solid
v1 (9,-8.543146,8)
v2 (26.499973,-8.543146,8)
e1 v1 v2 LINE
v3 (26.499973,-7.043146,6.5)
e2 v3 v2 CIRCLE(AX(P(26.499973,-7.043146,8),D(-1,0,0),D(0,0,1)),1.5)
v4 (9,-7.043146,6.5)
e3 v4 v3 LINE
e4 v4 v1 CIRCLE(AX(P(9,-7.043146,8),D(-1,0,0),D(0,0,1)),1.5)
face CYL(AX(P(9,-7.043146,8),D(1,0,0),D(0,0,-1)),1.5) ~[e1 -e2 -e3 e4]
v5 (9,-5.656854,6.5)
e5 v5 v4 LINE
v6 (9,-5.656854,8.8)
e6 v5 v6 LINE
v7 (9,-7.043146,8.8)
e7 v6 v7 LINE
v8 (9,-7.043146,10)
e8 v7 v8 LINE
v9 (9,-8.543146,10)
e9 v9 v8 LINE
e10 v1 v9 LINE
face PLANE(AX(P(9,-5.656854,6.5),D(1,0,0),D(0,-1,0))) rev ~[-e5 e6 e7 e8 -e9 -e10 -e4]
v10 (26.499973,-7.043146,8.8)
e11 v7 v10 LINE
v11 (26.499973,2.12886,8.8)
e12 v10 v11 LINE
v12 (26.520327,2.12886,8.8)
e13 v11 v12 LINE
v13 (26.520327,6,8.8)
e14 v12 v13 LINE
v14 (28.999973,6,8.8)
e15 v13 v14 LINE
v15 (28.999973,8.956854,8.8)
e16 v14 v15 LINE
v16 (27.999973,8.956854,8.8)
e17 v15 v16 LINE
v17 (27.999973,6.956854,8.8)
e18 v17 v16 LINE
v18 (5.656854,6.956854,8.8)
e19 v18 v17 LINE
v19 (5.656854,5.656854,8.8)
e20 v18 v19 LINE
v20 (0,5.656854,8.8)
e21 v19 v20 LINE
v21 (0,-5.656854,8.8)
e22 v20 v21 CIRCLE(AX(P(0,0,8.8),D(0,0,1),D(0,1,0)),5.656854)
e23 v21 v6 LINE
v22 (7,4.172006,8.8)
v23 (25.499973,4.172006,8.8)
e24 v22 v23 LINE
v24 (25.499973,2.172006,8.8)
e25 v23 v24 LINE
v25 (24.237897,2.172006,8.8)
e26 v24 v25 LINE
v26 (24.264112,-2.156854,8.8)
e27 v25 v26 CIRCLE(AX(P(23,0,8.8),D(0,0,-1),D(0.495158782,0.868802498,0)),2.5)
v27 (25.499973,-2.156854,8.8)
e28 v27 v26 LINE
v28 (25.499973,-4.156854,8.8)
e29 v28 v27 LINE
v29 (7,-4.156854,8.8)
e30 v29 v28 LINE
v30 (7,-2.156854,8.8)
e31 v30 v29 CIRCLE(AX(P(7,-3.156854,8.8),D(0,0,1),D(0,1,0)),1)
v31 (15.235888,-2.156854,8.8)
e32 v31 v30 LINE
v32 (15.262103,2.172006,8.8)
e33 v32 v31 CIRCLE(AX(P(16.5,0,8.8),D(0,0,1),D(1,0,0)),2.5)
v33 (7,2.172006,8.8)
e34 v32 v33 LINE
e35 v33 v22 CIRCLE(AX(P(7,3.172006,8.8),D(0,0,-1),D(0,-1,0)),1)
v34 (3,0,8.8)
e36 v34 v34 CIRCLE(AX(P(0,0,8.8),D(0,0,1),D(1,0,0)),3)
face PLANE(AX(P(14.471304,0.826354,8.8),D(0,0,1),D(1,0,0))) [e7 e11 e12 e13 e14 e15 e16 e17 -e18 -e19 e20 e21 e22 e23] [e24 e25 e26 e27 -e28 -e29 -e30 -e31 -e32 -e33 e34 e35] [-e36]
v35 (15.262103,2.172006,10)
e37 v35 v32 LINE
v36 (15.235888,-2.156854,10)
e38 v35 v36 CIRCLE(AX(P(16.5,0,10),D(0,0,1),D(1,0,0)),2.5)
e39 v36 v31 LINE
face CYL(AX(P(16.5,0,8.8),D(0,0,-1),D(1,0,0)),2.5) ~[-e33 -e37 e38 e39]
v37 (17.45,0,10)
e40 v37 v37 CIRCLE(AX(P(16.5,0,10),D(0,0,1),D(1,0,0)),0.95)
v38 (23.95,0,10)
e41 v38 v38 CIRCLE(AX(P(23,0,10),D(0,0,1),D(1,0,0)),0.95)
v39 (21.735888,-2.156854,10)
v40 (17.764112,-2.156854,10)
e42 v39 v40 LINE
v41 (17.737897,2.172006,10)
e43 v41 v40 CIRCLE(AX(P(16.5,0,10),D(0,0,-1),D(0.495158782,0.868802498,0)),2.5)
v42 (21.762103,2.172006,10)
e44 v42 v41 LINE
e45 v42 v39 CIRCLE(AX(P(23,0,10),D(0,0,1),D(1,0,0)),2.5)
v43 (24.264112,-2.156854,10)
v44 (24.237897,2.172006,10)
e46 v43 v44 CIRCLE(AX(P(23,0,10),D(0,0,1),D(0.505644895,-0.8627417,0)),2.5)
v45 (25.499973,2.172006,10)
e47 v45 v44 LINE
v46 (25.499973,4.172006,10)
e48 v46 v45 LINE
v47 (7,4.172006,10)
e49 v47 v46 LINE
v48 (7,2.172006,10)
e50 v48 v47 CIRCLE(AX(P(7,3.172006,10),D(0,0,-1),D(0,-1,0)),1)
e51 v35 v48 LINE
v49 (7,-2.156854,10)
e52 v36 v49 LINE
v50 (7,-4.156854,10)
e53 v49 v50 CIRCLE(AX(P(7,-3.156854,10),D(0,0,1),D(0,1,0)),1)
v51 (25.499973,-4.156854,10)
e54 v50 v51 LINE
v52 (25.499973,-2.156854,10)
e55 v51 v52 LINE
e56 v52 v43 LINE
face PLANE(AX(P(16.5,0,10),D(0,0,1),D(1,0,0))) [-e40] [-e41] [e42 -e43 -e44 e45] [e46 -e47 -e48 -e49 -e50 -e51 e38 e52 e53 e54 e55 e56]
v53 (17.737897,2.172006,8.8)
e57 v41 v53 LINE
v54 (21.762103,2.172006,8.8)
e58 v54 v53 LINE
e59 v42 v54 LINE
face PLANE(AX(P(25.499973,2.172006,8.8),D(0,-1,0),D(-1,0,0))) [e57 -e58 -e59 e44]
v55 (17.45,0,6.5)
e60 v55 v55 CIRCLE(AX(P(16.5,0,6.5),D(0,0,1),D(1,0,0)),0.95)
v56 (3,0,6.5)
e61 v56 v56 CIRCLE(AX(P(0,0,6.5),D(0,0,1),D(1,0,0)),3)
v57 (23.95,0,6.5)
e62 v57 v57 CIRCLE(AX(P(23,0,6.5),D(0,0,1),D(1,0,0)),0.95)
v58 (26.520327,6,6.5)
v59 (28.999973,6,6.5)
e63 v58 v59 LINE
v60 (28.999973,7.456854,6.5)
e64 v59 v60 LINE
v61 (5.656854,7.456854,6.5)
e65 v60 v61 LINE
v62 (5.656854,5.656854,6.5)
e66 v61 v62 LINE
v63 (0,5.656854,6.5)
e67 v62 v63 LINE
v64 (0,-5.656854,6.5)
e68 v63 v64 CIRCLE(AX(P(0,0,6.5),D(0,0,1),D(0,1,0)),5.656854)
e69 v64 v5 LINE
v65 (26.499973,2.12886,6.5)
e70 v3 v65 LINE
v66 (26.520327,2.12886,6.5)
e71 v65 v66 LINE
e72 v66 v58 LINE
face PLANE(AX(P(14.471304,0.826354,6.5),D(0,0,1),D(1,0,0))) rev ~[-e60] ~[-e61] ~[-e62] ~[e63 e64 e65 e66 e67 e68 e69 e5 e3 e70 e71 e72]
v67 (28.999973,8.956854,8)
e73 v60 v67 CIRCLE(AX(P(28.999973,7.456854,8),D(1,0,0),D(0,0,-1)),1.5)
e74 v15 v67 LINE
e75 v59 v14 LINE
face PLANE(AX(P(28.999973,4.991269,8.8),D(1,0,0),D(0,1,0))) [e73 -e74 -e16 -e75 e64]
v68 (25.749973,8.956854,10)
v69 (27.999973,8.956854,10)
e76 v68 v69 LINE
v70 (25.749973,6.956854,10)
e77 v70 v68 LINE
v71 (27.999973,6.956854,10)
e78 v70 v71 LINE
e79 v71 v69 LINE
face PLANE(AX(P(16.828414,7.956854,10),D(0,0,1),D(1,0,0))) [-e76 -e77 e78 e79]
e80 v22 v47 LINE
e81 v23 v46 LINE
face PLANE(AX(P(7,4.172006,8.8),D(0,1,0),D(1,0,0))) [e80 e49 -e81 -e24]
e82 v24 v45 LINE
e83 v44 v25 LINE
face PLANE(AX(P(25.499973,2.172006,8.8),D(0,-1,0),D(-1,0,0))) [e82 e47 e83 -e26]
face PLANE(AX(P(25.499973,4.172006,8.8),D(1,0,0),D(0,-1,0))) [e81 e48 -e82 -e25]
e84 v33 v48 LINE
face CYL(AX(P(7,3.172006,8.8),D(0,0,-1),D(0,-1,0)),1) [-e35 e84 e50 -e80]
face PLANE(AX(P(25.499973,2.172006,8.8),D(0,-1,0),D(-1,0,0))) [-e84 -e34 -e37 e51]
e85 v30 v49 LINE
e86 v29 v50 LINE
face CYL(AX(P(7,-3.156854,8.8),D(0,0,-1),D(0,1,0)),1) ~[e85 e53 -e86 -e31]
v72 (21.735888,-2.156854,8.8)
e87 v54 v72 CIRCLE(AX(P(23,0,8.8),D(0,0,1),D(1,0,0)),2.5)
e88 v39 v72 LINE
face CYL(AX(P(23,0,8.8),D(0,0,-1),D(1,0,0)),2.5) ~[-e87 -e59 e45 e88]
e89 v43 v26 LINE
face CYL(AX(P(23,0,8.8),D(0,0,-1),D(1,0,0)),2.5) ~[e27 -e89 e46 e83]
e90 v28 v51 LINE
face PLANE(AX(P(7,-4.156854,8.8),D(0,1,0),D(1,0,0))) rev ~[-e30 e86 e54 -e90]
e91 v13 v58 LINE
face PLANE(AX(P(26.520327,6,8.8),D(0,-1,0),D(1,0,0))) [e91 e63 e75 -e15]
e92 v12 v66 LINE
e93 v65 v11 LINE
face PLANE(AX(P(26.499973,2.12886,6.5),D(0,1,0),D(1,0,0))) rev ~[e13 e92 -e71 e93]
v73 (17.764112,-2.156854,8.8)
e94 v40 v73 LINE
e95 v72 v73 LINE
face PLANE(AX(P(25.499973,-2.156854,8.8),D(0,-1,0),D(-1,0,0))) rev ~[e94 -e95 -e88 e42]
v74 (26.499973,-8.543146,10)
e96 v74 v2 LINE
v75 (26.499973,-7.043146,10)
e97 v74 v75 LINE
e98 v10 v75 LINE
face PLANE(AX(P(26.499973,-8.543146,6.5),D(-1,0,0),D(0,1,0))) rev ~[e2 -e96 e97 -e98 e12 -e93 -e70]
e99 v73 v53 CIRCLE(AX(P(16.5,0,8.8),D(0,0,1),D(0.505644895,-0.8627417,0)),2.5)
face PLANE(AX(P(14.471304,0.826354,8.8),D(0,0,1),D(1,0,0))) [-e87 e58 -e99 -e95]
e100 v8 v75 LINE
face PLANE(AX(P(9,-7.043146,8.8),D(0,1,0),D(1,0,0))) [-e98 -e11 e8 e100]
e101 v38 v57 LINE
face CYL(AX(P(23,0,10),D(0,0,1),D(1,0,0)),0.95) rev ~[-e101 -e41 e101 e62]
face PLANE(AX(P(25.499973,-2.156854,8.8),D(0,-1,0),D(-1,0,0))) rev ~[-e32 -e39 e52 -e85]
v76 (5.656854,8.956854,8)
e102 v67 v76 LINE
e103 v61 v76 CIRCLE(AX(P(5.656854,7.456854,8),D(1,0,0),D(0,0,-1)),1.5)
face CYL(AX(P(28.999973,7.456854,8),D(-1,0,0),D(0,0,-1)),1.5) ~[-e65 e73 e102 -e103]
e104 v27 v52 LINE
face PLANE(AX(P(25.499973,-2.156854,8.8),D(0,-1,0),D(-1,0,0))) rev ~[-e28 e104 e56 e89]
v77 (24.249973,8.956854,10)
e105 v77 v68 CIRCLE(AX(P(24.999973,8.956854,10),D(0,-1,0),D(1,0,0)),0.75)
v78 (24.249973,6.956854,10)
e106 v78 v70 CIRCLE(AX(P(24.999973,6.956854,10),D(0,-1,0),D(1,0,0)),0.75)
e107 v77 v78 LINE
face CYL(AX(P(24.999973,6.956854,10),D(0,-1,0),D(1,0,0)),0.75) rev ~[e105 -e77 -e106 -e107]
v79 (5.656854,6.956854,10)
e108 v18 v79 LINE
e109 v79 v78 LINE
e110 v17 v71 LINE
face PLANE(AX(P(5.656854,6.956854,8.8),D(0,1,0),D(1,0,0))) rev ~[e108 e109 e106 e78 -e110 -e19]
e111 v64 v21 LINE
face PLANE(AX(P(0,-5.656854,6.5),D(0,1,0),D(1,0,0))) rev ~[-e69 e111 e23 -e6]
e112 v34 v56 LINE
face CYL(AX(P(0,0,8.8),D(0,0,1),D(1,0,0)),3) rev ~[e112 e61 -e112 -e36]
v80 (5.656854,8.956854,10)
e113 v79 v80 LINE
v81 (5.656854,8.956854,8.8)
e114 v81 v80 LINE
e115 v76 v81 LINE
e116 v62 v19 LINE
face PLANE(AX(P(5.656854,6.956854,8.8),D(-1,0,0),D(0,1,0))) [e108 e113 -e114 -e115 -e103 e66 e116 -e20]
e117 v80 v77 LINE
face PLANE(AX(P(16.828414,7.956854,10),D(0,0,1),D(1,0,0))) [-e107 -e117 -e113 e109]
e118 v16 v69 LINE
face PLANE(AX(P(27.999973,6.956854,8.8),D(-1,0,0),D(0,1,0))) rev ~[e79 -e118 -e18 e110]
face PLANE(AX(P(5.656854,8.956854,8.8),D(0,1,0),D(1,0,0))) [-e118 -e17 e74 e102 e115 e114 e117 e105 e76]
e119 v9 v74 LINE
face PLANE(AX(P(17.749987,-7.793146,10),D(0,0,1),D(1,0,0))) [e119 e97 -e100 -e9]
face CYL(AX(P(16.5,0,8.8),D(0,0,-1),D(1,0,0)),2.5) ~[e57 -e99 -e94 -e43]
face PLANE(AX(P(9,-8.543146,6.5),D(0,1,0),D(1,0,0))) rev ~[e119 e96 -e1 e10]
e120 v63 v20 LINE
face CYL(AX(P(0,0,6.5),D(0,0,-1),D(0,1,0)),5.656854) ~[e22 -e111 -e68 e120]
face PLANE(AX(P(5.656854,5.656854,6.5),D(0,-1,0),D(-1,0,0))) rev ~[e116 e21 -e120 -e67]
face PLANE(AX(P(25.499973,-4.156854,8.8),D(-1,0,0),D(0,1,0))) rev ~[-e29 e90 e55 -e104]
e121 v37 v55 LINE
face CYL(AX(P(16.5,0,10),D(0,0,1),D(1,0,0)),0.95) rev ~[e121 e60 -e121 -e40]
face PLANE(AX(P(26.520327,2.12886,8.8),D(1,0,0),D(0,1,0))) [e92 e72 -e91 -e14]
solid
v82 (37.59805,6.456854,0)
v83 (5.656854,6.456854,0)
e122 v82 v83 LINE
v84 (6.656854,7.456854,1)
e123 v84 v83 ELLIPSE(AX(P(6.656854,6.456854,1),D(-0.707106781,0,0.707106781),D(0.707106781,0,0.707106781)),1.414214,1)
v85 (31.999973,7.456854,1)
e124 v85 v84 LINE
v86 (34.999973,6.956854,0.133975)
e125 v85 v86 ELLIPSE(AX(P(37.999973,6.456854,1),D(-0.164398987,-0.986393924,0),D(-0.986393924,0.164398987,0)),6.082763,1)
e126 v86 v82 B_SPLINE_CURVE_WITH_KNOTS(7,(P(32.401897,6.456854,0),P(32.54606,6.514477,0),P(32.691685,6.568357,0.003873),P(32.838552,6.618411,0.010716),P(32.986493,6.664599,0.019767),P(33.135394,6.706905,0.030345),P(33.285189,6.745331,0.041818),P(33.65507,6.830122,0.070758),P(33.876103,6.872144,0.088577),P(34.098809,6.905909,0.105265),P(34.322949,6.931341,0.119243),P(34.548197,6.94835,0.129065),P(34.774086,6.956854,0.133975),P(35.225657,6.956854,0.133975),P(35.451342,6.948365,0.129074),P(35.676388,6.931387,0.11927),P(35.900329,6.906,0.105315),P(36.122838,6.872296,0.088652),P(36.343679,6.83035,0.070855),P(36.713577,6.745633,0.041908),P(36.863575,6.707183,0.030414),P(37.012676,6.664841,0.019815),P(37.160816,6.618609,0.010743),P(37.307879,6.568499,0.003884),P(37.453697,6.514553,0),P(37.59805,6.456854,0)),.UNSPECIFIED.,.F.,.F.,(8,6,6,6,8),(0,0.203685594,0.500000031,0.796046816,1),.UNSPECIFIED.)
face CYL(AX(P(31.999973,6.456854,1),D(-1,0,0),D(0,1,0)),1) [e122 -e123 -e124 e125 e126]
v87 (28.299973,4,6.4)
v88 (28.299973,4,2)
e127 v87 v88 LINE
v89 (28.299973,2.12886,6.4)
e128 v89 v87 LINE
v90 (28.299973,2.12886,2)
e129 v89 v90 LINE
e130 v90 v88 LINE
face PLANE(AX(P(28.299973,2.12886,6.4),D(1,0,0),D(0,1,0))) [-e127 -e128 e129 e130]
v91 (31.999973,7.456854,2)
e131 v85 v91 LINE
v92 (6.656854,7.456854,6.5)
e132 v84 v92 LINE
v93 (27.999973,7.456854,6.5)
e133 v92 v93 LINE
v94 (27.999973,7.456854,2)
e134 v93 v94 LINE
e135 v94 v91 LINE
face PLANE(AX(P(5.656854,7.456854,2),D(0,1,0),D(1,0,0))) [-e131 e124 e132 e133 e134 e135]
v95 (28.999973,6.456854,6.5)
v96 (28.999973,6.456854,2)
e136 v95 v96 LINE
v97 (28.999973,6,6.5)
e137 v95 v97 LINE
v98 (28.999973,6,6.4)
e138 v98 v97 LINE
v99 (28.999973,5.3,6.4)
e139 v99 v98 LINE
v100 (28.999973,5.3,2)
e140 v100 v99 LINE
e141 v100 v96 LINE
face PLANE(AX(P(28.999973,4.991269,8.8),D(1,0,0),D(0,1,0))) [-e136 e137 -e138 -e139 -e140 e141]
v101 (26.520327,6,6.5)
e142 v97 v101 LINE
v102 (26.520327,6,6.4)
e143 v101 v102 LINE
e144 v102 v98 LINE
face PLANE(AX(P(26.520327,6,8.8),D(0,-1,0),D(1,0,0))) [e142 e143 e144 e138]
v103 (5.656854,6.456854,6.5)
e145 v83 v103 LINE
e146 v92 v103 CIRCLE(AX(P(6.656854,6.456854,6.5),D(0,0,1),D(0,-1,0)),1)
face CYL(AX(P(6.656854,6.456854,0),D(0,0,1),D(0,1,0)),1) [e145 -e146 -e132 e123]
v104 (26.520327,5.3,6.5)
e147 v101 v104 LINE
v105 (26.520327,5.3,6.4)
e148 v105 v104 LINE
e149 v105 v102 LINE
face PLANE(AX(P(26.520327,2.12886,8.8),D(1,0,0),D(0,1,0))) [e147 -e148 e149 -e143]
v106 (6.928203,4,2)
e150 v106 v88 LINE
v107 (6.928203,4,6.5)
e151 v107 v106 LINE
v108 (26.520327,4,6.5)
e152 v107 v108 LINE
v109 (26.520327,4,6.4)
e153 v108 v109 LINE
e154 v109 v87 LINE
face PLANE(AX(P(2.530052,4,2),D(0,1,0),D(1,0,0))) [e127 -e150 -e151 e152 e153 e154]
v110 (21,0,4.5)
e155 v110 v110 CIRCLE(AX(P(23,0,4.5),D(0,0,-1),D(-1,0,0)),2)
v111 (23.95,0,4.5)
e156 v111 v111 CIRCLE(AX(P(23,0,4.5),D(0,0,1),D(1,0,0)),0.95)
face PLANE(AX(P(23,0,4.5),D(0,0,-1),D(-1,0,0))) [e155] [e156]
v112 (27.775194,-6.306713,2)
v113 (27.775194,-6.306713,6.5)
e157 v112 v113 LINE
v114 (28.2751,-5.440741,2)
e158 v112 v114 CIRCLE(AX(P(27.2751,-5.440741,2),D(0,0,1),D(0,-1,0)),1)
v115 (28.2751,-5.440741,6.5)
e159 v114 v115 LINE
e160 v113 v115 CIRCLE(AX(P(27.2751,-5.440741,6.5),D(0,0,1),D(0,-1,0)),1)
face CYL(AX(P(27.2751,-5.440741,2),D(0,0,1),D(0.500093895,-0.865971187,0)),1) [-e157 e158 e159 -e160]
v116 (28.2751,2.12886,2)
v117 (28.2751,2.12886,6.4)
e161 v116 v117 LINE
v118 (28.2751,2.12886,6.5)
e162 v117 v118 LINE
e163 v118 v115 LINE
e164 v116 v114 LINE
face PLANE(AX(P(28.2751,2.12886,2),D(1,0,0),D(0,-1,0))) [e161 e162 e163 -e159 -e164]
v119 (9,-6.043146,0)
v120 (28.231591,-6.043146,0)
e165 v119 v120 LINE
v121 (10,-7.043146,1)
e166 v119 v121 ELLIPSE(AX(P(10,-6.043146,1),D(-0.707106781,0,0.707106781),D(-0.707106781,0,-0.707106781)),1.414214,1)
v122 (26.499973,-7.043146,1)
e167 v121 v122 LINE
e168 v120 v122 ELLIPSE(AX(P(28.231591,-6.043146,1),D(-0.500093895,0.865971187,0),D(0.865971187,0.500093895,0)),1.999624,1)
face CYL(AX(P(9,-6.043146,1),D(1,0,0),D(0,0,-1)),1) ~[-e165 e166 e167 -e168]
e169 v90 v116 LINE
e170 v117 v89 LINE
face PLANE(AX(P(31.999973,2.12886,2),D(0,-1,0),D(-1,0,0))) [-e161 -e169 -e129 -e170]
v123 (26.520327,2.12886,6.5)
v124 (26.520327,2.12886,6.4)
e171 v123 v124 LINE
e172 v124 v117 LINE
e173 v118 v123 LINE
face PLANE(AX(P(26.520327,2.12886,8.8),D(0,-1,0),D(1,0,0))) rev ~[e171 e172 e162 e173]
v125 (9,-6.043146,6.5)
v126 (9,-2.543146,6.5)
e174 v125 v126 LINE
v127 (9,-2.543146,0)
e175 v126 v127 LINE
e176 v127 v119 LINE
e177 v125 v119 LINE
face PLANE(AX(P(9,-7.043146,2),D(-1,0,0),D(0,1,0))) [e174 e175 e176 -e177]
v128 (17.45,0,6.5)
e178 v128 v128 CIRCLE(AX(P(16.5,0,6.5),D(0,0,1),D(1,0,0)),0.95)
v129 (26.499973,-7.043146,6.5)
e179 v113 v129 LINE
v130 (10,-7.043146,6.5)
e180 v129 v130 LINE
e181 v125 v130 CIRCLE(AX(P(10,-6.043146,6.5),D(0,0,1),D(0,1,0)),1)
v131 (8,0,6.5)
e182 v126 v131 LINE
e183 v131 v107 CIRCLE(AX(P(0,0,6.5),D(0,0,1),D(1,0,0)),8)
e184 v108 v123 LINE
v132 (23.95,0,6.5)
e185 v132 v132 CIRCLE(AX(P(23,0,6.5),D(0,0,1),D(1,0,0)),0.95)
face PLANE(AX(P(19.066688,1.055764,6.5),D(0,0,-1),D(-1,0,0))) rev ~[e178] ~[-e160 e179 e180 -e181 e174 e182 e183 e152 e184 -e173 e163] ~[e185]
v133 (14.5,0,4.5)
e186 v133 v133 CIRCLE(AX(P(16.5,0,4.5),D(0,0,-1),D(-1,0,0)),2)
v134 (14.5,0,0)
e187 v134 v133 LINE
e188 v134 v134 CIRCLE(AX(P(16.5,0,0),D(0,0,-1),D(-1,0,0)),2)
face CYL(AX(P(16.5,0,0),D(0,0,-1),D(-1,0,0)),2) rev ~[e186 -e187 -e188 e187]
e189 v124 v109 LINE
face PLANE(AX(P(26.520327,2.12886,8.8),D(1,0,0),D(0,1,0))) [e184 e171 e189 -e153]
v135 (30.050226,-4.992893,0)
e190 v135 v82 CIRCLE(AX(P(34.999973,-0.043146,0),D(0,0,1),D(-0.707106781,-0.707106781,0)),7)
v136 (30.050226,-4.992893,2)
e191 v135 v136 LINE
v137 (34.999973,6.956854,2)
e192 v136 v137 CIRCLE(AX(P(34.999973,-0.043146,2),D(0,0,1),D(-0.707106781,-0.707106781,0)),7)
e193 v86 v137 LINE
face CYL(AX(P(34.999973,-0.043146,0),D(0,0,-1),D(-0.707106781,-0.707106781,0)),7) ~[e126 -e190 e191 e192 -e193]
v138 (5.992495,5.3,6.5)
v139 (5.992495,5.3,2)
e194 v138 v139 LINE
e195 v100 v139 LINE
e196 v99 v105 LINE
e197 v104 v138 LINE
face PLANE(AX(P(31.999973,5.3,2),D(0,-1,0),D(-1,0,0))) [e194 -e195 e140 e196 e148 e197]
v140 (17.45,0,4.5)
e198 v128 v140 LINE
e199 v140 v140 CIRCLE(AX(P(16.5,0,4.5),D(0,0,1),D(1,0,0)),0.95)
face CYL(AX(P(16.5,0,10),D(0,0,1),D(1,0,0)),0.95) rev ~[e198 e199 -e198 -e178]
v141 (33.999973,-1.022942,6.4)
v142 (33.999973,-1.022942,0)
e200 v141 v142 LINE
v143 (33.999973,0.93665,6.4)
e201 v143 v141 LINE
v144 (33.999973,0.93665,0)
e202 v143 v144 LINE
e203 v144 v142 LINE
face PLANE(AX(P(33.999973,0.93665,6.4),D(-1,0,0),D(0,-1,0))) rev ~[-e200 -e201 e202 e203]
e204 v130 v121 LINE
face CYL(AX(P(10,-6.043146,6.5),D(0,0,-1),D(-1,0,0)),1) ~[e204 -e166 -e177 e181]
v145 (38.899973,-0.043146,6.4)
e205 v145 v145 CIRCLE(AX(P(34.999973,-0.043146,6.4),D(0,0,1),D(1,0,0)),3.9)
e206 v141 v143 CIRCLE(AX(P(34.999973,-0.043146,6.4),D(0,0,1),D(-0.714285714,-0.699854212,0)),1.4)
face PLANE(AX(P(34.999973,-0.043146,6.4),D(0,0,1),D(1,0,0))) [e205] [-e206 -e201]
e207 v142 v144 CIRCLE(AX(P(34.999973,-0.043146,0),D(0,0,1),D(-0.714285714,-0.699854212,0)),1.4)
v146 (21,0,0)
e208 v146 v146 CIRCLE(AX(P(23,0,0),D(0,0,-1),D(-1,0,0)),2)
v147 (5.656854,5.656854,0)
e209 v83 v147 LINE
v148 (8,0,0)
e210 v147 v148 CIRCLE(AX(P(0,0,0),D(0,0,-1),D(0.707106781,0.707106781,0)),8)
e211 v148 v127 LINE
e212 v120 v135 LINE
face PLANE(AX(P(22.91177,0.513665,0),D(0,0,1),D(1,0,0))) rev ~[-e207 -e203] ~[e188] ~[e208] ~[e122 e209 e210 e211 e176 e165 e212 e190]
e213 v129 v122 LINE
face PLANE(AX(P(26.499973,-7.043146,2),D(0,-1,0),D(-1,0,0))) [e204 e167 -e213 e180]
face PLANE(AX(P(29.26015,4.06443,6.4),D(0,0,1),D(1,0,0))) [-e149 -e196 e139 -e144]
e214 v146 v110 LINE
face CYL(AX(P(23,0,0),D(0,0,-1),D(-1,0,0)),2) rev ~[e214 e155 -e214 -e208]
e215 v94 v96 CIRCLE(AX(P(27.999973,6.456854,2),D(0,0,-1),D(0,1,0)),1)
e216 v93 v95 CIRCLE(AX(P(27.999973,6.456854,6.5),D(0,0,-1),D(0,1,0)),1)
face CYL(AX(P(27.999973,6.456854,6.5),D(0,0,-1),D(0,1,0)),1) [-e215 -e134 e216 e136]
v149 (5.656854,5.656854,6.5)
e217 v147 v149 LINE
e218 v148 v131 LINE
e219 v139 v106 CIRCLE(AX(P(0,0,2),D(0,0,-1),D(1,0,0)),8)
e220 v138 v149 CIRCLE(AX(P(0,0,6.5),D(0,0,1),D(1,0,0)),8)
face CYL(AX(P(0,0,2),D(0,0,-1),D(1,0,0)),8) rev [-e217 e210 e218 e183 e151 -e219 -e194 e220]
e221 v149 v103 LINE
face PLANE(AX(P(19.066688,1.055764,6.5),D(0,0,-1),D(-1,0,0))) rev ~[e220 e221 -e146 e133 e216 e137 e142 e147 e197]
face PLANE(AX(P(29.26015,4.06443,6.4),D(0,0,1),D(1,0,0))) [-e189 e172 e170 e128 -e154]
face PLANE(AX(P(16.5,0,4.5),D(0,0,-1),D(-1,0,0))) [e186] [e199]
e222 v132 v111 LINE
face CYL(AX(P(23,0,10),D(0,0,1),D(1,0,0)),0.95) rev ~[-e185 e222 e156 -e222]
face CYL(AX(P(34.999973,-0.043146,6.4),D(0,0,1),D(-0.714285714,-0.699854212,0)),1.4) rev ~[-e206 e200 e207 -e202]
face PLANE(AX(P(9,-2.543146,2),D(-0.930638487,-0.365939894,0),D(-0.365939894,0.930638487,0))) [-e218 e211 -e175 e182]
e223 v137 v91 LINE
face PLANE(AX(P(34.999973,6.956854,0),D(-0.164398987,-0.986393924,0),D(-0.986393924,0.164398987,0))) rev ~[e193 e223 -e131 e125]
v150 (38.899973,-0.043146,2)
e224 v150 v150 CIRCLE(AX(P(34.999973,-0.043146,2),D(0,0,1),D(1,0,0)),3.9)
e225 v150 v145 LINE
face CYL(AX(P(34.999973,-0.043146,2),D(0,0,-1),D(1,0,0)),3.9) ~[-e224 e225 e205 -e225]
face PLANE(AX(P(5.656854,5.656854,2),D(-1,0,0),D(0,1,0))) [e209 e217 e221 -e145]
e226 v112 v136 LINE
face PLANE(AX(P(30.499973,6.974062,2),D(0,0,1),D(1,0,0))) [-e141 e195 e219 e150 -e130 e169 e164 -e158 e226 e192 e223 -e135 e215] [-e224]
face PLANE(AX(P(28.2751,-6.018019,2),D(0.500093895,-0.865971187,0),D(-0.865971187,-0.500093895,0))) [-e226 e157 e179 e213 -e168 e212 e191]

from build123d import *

# Parameters (mm, degrees)
BOSS_EXTRUDE1_DEPTH  = 2
BOSS_EXTRUDE6_DEPTH  = 4.5
CUT_EXTRUDE6_DEPTH   = 4.5
BOSS_EXTRUDE14_DEPTH = 2.3
SKETCH32_R           = 3
CUT_EXTRUDE7_DEPTH   = 2.3
SKETCH33_W           = 22.343119157
SKETCH33_H           = 2
SKETCH33_W_2         = 17.499973406
SKETCH33_H_2         = 1.5
BOSS_EXTRUDE15_DEPTH = 1.2
SKETCH35_W           = 5.479645996
SKETCH35_H           = 3.871139505
CUT_EXTRUDE8_DEPTH   = 2.4
SKETCH36_W           = 3.7
SKETCH36_H           = 1.871139505
CUT_EXTRUDE9_DEPTH   = 4.4
SKETCH37_R           = 3.9
BOSS_EXTRUDE16_DEPTH = 4.4
CUT_EXTRUDE10_DEPTH  = 7.4
SKETCH43_R           = 2.5
BOSS_EXTRUDE17_DEPTH = 1.2
SKETCH44_R           = 0.95
CUT_EXTRUDE11_DEPTH  = 11
SKETCH45_R           = 2
CUT_EXTRUDE12_DEPTH  = 4.5
SKETCH49_R           = 0.75
CUT_EXTRUDE13_DEPTH  = 3
SKETCH51_W           = 3
SKETCH51_H           = 3.965585241
CUT_EXTRUDE14_DEPTH  = 6.8
FILLET1_R            = 1.5
FILLET3_R            = 1


with BuildPart() as part:
    # Sketch3 → Boss-Extrude1 (new body)
    with BuildSketch(Plane.XY):
        with BuildLine():
            Line((8, 0), (9, -2.543145751))
            Line((9, -2.543145751), (9, -7.043145751))
            Line((9, -7.043145751), (26.499973406, -7.043145751))
            Line((26.499973406, -7.043145751), (30.050225938, -4.992893219))
            ThreePointArc((30.050225938, -4.992893219), (41.467130134, -2.721929777), (34.999973406, 6.956854249))
            Line((34.999973406, 6.956854249), (31.999973406, 7.456854249))
            Line((31.999973406, 7.456854249), (5.656854249, 7.456854249))
            Line((5.656854249, 7.456854249), (5.656854249, 5.656854249))
            ThreePointArc((5.656854249, 5.656854249), (7.39103626, 3.061467459), (8, 0))
        make_face()
    extrude(amount=BOSS_EXTRUDE1_DEPTH)

    # Sketch22 → Boss-Extrude6 (add)
    with BuildSketch(Plane.XY.offset(2)):
        with BuildLine():
            Line((5.656854249, 7.456854249), (26.499973406, 7.456854249))
            Line((26.499973406, 7.456854249), (31.999973406, 7.456854249))
            Line((31.999973406, 7.456854249), (31.999973406, 2.128860495))
            Line((31.999973406, 2.128860495), (28.275099672, 2.128860495))
            Line((28.275099672, 2.128860495), (28.275099672, -6.018019485))
            Line((28.275099672, -6.018019485), (26.499973406, -7.043145751))
            Line((26.499973406, -7.043145751), (9, -7.043145751))
            Line((9, -7.043145751), (9, -2.543145751))
            Line((9, -2.543145751), (8, 0))
            ThreePointArc((8, 0), (7.39103626, 3.061467459), (5.656854249, 5.656854249))
            Line((5.656854249, 5.656854249), (5.656854249, 7.456854249))
        make_face()
    extrude(amount=BOSS_EXTRUDE6_DEPTH)

    # Sketch26 → Cut-Extrude6 (cut)
    with BuildSketch(Plane.XY.offset(2)):
        Polygon((18.098080448, 5.3), (2.530052458, 5.3), (2.530052458, 4), (18.098080448, 4), (31.999973406, 4), (31.999973406, 5.3), align=None)
    extrude(amount=CUT_EXTRUDE6_DEPTH, mode=Mode.SUBTRACT)


with BuildPart() as body_2:
    # Sketch31 → Boss-Extrude14 (new body)
    with BuildSketch(Plane.XY.offset(6.5)):
        with BuildLine():
            Line((2.432688066, 5.656854249), (0, 5.656854249))
            ThreePointArc((0, 5.656854249), (-5.656854249, 0), (0, -5.656854249))
            Line((0, -5.656854249), (9, -5.656854249))
            Line((9, -5.656854249), (9, -7.043145751))
            Line((9, -7.043145751), (9, -8.543145751))
            Line((9, -8.543145751), (26.499973406, -8.543145751))
            Line((26.499973406, -8.543145751), (26.499973406, -7.043145751))
            Line((26.499973406, -7.043145751), (26.499973406, 2.128860495))
            Line((26.499973406, 2.128860495), (28.275099672, 2.128860495))
            Line((28.275099672, 2.128860495), (31.999973406, 2.128860495))
            Line((31.999973406, 2.128860495), (31.999973406, 7.456854249))
            Line((31.999973406, 7.456854249), (31.999973406, 8.956854249))
            Line((31.999973406, 8.956854249), (5.656854249, 8.956854249))
            Line((5.656854249, 8.956854249), (5.656854249, 7.456854249))
            Line((5.656854249, 7.456854249), (5.656854249, 5.656854249))
            Line((5.656854249, 5.656854249), (2.432688066, 5.656854249))
        make_face()
    extrude(amount=BOSS_EXTRUDE14_DEPTH)

    # Sketch32 → Cut-Extrude7 (cut)
    with BuildSketch(Plane.XY.offset(8.8)):
        Circle(SKETCH32_R)
    extrude(amount=-CUT_EXTRUDE7_DEPTH, mode=Mode.SUBTRACT)

    # Sketch33 → Boss-Extrude15 (add)
    with BuildSketch(Plane.XY.offset(8.8)):
        with Locations((16.828413828, 7.956854249)):
            Rectangle(SKETCH33_W, SKETCH33_H)
        with Locations((17.749986703, -7.793145751)):
            Rectangle(SKETCH33_W_2, SKETCH33_H_2)
        with BuildLine():
            Line((7, -4.156854249), (25.499973406, -4.156854249))
            Line((25.499973406, -4.156854249), (25.499973406, -2.156854249))
            Line((25.499973406, -2.156854249), (7, -2.156854249))
            ThreePointArc((7, -2.156854249), (6, -3.156854249), (7, -4.156854249))
        make_face()
        with BuildLine():
            Line((25.499973406, 2.172006245), (7, 2.172006245))
            ThreePointArc((7, 2.172006245), (6, 3.172006245), (7, 4.172006245))
            Line((7, 4.172006245), (25.499973406, 4.172006245))
            Line((25.499973406, 4.172006245), (25.499973406, 2.172006245))
        make_face()
    extrude(amount=BOSS_EXTRUDE15_DEPTH)


with BuildPart() as cut_extrude8_tool:
    # Sketch35 → Cut-Extrude8 (new body)
    with BuildSketch(Plane.XY.offset(8.8)):
        with Locations((29.260150408, 4.064430247)):
            Rectangle(SKETCH35_W, SKETCH35_H)
    extrude(amount=-CUT_EXTRUDE8_DEPTH)


with BuildPart() as part_1:
    add(part.part)

    # Cut-Extrude8: cut by cut_extrude8_tool
    add(cut_extrude8_tool.part, mode=Mode.SUBTRACT)

    # Sketch36 → Cut-Extrude9 (cut)
    with BuildSketch(Plane.XY.offset(6.4)):
        with Locations((30.149973406, 3.064430247)):
            Rectangle(SKETCH36_W, SKETCH36_H)
    extrude(amount=-CUT_EXTRUDE9_DEPTH, mode=Mode.SUBTRACT)

    # Sketch37 → Boss-Extrude16 (add)
    with BuildSketch(Plane.XY.offset(2)):
        with Locations((34.999973406, -0.043145751)):
            Circle(SKETCH37_R)
    extrude(amount=BOSS_EXTRUDE16_DEPTH)

    # Sketch39 → Cut-Extrude10 (cut, through all)
    with BuildSketch(Plane.XY.offset(6.4)):
        with BuildLine():
            Line((33.999973406, 0.936650147), (33.999973406, -1.022941648))
            ThreePointArc((33.999973406, -1.022941648), (36.399973406, -0.043145751), (33.999973406, 0.936650147))
        make_face()
    extrude(amount=-CUT_EXTRUDE10_DEPTH, mode=Mode.SUBTRACT)


with BuildPart() as body_2_1:
    add(body_2.part)

    # Cut-Extrude8: cut by cut_extrude8_tool
    add(cut_extrude8_tool.part, mode=Mode.SUBTRACT)

    # Sketch43 → Boss-Extrude17 (add)
    with BuildSketch(Plane.XY.offset(8.8)):
        with Locations((16.5, 0)):
            Circle(SKETCH43_R)
        with Locations((23, 0)):
            Circle(SKETCH43_R)
    extrude(amount=BOSS_EXTRUDE17_DEPTH)


with BuildPart() as cut_extrude11_tool:
    # Sketch44 → Cut-Extrude11 (new body, through all)
    with BuildSketch(Plane.XY.offset(10)):
        with Locations((16.5, 0)):
            Circle(SKETCH44_R)
        with Locations((23, 0)):
            Circle(SKETCH44_R)
    extrude(amount=-CUT_EXTRUDE11_DEPTH)


with BuildPart() as part_2:
    add(part_1.part)

    # Cut-Extrude11: cut by cut_extrude11_tool
    add(cut_extrude11_tool.part, mode=Mode.SUBTRACT)

    # Sketch45 → Cut-Extrude12 (cut)
    with BuildSketch(Plane(origin=(0, 0, 0), x_dir=(-1, 0, 0), z_dir=(0, 0, -1))):
        with Locations((-16.5, 0)):
            Circle(SKETCH45_R)
        with Locations((-23, 0)):
            Circle(SKETCH45_R)
    extrude(amount=-CUT_EXTRUDE12_DEPTH, mode=Mode.SUBTRACT)


with BuildPart() as body_2_2:
    add(body_2_1.part)

    # Cut-Extrude11: cut by cut_extrude11_tool
    add(cut_extrude11_tool.part, mode=Mode.SUBTRACT)

    # Sketch49 → Cut-Extrude13 (cut)
    with BuildSketch(Plane.XZ.offset(-6.956854249)):
        with Locations((24.999973406, 10)):
            Circle(SKETCH49_R)
    extrude(amount=-CUT_EXTRUDE13_DEPTH, mode=Mode.SUBTRACT)


with BuildPart() as cut_extrude14_tool:
    # Sketch51 → Cut-Extrude14 (new body)
    with BuildSketch(Plane.XY.offset(8.8)):
        with Locations((30.499973406, 6.974061629)):
            Rectangle(SKETCH51_W, SKETCH51_H)
    extrude(amount=-CUT_EXTRUDE14_DEPTH)


with BuildPart() as part_3:
    add(part_2.part)

    # Cut-Extrude14: cut by cut_extrude14_tool
    add(cut_extrude14_tool.part, mode=Mode.SUBTRACT)

    # Fillet3
    fillet3_edges = [part_3.edges().sort_by_distance(p)[0] for p in [
        (28.275099672, -6.018019485, 4.25),
        (28.999973406, 7.456854249, 4.25),
        (9, -7.043145751, 3.25),
        (5.656854249, 7.456854249, 3.25),
        (17.749986703, -7.043145751, 0),
        (18.828413828, 7.456854249, 0),
    ]]
    fillet(fillet3_edges, radius=FILLET3_R)


with BuildPart() as body_2_3:
    add(body_2_2.part)

    # Cut-Extrude14: cut by cut_extrude14_tool
    add(cut_extrude14_tool.part, mode=Mode.SUBTRACT)

    # Fillet1
    fillet1_edges = [body_2_3.edges().sort_by_distance(p)[0] for p in [
        (17.328413828, 8.956854249, 6.5),
        (17.749986703, -8.543145751, 6.5),
    ]]
    fillet(fillet1_edges, radius=FILLET1_R)


solid = Compound([part_3.part, body_2_3.part])
